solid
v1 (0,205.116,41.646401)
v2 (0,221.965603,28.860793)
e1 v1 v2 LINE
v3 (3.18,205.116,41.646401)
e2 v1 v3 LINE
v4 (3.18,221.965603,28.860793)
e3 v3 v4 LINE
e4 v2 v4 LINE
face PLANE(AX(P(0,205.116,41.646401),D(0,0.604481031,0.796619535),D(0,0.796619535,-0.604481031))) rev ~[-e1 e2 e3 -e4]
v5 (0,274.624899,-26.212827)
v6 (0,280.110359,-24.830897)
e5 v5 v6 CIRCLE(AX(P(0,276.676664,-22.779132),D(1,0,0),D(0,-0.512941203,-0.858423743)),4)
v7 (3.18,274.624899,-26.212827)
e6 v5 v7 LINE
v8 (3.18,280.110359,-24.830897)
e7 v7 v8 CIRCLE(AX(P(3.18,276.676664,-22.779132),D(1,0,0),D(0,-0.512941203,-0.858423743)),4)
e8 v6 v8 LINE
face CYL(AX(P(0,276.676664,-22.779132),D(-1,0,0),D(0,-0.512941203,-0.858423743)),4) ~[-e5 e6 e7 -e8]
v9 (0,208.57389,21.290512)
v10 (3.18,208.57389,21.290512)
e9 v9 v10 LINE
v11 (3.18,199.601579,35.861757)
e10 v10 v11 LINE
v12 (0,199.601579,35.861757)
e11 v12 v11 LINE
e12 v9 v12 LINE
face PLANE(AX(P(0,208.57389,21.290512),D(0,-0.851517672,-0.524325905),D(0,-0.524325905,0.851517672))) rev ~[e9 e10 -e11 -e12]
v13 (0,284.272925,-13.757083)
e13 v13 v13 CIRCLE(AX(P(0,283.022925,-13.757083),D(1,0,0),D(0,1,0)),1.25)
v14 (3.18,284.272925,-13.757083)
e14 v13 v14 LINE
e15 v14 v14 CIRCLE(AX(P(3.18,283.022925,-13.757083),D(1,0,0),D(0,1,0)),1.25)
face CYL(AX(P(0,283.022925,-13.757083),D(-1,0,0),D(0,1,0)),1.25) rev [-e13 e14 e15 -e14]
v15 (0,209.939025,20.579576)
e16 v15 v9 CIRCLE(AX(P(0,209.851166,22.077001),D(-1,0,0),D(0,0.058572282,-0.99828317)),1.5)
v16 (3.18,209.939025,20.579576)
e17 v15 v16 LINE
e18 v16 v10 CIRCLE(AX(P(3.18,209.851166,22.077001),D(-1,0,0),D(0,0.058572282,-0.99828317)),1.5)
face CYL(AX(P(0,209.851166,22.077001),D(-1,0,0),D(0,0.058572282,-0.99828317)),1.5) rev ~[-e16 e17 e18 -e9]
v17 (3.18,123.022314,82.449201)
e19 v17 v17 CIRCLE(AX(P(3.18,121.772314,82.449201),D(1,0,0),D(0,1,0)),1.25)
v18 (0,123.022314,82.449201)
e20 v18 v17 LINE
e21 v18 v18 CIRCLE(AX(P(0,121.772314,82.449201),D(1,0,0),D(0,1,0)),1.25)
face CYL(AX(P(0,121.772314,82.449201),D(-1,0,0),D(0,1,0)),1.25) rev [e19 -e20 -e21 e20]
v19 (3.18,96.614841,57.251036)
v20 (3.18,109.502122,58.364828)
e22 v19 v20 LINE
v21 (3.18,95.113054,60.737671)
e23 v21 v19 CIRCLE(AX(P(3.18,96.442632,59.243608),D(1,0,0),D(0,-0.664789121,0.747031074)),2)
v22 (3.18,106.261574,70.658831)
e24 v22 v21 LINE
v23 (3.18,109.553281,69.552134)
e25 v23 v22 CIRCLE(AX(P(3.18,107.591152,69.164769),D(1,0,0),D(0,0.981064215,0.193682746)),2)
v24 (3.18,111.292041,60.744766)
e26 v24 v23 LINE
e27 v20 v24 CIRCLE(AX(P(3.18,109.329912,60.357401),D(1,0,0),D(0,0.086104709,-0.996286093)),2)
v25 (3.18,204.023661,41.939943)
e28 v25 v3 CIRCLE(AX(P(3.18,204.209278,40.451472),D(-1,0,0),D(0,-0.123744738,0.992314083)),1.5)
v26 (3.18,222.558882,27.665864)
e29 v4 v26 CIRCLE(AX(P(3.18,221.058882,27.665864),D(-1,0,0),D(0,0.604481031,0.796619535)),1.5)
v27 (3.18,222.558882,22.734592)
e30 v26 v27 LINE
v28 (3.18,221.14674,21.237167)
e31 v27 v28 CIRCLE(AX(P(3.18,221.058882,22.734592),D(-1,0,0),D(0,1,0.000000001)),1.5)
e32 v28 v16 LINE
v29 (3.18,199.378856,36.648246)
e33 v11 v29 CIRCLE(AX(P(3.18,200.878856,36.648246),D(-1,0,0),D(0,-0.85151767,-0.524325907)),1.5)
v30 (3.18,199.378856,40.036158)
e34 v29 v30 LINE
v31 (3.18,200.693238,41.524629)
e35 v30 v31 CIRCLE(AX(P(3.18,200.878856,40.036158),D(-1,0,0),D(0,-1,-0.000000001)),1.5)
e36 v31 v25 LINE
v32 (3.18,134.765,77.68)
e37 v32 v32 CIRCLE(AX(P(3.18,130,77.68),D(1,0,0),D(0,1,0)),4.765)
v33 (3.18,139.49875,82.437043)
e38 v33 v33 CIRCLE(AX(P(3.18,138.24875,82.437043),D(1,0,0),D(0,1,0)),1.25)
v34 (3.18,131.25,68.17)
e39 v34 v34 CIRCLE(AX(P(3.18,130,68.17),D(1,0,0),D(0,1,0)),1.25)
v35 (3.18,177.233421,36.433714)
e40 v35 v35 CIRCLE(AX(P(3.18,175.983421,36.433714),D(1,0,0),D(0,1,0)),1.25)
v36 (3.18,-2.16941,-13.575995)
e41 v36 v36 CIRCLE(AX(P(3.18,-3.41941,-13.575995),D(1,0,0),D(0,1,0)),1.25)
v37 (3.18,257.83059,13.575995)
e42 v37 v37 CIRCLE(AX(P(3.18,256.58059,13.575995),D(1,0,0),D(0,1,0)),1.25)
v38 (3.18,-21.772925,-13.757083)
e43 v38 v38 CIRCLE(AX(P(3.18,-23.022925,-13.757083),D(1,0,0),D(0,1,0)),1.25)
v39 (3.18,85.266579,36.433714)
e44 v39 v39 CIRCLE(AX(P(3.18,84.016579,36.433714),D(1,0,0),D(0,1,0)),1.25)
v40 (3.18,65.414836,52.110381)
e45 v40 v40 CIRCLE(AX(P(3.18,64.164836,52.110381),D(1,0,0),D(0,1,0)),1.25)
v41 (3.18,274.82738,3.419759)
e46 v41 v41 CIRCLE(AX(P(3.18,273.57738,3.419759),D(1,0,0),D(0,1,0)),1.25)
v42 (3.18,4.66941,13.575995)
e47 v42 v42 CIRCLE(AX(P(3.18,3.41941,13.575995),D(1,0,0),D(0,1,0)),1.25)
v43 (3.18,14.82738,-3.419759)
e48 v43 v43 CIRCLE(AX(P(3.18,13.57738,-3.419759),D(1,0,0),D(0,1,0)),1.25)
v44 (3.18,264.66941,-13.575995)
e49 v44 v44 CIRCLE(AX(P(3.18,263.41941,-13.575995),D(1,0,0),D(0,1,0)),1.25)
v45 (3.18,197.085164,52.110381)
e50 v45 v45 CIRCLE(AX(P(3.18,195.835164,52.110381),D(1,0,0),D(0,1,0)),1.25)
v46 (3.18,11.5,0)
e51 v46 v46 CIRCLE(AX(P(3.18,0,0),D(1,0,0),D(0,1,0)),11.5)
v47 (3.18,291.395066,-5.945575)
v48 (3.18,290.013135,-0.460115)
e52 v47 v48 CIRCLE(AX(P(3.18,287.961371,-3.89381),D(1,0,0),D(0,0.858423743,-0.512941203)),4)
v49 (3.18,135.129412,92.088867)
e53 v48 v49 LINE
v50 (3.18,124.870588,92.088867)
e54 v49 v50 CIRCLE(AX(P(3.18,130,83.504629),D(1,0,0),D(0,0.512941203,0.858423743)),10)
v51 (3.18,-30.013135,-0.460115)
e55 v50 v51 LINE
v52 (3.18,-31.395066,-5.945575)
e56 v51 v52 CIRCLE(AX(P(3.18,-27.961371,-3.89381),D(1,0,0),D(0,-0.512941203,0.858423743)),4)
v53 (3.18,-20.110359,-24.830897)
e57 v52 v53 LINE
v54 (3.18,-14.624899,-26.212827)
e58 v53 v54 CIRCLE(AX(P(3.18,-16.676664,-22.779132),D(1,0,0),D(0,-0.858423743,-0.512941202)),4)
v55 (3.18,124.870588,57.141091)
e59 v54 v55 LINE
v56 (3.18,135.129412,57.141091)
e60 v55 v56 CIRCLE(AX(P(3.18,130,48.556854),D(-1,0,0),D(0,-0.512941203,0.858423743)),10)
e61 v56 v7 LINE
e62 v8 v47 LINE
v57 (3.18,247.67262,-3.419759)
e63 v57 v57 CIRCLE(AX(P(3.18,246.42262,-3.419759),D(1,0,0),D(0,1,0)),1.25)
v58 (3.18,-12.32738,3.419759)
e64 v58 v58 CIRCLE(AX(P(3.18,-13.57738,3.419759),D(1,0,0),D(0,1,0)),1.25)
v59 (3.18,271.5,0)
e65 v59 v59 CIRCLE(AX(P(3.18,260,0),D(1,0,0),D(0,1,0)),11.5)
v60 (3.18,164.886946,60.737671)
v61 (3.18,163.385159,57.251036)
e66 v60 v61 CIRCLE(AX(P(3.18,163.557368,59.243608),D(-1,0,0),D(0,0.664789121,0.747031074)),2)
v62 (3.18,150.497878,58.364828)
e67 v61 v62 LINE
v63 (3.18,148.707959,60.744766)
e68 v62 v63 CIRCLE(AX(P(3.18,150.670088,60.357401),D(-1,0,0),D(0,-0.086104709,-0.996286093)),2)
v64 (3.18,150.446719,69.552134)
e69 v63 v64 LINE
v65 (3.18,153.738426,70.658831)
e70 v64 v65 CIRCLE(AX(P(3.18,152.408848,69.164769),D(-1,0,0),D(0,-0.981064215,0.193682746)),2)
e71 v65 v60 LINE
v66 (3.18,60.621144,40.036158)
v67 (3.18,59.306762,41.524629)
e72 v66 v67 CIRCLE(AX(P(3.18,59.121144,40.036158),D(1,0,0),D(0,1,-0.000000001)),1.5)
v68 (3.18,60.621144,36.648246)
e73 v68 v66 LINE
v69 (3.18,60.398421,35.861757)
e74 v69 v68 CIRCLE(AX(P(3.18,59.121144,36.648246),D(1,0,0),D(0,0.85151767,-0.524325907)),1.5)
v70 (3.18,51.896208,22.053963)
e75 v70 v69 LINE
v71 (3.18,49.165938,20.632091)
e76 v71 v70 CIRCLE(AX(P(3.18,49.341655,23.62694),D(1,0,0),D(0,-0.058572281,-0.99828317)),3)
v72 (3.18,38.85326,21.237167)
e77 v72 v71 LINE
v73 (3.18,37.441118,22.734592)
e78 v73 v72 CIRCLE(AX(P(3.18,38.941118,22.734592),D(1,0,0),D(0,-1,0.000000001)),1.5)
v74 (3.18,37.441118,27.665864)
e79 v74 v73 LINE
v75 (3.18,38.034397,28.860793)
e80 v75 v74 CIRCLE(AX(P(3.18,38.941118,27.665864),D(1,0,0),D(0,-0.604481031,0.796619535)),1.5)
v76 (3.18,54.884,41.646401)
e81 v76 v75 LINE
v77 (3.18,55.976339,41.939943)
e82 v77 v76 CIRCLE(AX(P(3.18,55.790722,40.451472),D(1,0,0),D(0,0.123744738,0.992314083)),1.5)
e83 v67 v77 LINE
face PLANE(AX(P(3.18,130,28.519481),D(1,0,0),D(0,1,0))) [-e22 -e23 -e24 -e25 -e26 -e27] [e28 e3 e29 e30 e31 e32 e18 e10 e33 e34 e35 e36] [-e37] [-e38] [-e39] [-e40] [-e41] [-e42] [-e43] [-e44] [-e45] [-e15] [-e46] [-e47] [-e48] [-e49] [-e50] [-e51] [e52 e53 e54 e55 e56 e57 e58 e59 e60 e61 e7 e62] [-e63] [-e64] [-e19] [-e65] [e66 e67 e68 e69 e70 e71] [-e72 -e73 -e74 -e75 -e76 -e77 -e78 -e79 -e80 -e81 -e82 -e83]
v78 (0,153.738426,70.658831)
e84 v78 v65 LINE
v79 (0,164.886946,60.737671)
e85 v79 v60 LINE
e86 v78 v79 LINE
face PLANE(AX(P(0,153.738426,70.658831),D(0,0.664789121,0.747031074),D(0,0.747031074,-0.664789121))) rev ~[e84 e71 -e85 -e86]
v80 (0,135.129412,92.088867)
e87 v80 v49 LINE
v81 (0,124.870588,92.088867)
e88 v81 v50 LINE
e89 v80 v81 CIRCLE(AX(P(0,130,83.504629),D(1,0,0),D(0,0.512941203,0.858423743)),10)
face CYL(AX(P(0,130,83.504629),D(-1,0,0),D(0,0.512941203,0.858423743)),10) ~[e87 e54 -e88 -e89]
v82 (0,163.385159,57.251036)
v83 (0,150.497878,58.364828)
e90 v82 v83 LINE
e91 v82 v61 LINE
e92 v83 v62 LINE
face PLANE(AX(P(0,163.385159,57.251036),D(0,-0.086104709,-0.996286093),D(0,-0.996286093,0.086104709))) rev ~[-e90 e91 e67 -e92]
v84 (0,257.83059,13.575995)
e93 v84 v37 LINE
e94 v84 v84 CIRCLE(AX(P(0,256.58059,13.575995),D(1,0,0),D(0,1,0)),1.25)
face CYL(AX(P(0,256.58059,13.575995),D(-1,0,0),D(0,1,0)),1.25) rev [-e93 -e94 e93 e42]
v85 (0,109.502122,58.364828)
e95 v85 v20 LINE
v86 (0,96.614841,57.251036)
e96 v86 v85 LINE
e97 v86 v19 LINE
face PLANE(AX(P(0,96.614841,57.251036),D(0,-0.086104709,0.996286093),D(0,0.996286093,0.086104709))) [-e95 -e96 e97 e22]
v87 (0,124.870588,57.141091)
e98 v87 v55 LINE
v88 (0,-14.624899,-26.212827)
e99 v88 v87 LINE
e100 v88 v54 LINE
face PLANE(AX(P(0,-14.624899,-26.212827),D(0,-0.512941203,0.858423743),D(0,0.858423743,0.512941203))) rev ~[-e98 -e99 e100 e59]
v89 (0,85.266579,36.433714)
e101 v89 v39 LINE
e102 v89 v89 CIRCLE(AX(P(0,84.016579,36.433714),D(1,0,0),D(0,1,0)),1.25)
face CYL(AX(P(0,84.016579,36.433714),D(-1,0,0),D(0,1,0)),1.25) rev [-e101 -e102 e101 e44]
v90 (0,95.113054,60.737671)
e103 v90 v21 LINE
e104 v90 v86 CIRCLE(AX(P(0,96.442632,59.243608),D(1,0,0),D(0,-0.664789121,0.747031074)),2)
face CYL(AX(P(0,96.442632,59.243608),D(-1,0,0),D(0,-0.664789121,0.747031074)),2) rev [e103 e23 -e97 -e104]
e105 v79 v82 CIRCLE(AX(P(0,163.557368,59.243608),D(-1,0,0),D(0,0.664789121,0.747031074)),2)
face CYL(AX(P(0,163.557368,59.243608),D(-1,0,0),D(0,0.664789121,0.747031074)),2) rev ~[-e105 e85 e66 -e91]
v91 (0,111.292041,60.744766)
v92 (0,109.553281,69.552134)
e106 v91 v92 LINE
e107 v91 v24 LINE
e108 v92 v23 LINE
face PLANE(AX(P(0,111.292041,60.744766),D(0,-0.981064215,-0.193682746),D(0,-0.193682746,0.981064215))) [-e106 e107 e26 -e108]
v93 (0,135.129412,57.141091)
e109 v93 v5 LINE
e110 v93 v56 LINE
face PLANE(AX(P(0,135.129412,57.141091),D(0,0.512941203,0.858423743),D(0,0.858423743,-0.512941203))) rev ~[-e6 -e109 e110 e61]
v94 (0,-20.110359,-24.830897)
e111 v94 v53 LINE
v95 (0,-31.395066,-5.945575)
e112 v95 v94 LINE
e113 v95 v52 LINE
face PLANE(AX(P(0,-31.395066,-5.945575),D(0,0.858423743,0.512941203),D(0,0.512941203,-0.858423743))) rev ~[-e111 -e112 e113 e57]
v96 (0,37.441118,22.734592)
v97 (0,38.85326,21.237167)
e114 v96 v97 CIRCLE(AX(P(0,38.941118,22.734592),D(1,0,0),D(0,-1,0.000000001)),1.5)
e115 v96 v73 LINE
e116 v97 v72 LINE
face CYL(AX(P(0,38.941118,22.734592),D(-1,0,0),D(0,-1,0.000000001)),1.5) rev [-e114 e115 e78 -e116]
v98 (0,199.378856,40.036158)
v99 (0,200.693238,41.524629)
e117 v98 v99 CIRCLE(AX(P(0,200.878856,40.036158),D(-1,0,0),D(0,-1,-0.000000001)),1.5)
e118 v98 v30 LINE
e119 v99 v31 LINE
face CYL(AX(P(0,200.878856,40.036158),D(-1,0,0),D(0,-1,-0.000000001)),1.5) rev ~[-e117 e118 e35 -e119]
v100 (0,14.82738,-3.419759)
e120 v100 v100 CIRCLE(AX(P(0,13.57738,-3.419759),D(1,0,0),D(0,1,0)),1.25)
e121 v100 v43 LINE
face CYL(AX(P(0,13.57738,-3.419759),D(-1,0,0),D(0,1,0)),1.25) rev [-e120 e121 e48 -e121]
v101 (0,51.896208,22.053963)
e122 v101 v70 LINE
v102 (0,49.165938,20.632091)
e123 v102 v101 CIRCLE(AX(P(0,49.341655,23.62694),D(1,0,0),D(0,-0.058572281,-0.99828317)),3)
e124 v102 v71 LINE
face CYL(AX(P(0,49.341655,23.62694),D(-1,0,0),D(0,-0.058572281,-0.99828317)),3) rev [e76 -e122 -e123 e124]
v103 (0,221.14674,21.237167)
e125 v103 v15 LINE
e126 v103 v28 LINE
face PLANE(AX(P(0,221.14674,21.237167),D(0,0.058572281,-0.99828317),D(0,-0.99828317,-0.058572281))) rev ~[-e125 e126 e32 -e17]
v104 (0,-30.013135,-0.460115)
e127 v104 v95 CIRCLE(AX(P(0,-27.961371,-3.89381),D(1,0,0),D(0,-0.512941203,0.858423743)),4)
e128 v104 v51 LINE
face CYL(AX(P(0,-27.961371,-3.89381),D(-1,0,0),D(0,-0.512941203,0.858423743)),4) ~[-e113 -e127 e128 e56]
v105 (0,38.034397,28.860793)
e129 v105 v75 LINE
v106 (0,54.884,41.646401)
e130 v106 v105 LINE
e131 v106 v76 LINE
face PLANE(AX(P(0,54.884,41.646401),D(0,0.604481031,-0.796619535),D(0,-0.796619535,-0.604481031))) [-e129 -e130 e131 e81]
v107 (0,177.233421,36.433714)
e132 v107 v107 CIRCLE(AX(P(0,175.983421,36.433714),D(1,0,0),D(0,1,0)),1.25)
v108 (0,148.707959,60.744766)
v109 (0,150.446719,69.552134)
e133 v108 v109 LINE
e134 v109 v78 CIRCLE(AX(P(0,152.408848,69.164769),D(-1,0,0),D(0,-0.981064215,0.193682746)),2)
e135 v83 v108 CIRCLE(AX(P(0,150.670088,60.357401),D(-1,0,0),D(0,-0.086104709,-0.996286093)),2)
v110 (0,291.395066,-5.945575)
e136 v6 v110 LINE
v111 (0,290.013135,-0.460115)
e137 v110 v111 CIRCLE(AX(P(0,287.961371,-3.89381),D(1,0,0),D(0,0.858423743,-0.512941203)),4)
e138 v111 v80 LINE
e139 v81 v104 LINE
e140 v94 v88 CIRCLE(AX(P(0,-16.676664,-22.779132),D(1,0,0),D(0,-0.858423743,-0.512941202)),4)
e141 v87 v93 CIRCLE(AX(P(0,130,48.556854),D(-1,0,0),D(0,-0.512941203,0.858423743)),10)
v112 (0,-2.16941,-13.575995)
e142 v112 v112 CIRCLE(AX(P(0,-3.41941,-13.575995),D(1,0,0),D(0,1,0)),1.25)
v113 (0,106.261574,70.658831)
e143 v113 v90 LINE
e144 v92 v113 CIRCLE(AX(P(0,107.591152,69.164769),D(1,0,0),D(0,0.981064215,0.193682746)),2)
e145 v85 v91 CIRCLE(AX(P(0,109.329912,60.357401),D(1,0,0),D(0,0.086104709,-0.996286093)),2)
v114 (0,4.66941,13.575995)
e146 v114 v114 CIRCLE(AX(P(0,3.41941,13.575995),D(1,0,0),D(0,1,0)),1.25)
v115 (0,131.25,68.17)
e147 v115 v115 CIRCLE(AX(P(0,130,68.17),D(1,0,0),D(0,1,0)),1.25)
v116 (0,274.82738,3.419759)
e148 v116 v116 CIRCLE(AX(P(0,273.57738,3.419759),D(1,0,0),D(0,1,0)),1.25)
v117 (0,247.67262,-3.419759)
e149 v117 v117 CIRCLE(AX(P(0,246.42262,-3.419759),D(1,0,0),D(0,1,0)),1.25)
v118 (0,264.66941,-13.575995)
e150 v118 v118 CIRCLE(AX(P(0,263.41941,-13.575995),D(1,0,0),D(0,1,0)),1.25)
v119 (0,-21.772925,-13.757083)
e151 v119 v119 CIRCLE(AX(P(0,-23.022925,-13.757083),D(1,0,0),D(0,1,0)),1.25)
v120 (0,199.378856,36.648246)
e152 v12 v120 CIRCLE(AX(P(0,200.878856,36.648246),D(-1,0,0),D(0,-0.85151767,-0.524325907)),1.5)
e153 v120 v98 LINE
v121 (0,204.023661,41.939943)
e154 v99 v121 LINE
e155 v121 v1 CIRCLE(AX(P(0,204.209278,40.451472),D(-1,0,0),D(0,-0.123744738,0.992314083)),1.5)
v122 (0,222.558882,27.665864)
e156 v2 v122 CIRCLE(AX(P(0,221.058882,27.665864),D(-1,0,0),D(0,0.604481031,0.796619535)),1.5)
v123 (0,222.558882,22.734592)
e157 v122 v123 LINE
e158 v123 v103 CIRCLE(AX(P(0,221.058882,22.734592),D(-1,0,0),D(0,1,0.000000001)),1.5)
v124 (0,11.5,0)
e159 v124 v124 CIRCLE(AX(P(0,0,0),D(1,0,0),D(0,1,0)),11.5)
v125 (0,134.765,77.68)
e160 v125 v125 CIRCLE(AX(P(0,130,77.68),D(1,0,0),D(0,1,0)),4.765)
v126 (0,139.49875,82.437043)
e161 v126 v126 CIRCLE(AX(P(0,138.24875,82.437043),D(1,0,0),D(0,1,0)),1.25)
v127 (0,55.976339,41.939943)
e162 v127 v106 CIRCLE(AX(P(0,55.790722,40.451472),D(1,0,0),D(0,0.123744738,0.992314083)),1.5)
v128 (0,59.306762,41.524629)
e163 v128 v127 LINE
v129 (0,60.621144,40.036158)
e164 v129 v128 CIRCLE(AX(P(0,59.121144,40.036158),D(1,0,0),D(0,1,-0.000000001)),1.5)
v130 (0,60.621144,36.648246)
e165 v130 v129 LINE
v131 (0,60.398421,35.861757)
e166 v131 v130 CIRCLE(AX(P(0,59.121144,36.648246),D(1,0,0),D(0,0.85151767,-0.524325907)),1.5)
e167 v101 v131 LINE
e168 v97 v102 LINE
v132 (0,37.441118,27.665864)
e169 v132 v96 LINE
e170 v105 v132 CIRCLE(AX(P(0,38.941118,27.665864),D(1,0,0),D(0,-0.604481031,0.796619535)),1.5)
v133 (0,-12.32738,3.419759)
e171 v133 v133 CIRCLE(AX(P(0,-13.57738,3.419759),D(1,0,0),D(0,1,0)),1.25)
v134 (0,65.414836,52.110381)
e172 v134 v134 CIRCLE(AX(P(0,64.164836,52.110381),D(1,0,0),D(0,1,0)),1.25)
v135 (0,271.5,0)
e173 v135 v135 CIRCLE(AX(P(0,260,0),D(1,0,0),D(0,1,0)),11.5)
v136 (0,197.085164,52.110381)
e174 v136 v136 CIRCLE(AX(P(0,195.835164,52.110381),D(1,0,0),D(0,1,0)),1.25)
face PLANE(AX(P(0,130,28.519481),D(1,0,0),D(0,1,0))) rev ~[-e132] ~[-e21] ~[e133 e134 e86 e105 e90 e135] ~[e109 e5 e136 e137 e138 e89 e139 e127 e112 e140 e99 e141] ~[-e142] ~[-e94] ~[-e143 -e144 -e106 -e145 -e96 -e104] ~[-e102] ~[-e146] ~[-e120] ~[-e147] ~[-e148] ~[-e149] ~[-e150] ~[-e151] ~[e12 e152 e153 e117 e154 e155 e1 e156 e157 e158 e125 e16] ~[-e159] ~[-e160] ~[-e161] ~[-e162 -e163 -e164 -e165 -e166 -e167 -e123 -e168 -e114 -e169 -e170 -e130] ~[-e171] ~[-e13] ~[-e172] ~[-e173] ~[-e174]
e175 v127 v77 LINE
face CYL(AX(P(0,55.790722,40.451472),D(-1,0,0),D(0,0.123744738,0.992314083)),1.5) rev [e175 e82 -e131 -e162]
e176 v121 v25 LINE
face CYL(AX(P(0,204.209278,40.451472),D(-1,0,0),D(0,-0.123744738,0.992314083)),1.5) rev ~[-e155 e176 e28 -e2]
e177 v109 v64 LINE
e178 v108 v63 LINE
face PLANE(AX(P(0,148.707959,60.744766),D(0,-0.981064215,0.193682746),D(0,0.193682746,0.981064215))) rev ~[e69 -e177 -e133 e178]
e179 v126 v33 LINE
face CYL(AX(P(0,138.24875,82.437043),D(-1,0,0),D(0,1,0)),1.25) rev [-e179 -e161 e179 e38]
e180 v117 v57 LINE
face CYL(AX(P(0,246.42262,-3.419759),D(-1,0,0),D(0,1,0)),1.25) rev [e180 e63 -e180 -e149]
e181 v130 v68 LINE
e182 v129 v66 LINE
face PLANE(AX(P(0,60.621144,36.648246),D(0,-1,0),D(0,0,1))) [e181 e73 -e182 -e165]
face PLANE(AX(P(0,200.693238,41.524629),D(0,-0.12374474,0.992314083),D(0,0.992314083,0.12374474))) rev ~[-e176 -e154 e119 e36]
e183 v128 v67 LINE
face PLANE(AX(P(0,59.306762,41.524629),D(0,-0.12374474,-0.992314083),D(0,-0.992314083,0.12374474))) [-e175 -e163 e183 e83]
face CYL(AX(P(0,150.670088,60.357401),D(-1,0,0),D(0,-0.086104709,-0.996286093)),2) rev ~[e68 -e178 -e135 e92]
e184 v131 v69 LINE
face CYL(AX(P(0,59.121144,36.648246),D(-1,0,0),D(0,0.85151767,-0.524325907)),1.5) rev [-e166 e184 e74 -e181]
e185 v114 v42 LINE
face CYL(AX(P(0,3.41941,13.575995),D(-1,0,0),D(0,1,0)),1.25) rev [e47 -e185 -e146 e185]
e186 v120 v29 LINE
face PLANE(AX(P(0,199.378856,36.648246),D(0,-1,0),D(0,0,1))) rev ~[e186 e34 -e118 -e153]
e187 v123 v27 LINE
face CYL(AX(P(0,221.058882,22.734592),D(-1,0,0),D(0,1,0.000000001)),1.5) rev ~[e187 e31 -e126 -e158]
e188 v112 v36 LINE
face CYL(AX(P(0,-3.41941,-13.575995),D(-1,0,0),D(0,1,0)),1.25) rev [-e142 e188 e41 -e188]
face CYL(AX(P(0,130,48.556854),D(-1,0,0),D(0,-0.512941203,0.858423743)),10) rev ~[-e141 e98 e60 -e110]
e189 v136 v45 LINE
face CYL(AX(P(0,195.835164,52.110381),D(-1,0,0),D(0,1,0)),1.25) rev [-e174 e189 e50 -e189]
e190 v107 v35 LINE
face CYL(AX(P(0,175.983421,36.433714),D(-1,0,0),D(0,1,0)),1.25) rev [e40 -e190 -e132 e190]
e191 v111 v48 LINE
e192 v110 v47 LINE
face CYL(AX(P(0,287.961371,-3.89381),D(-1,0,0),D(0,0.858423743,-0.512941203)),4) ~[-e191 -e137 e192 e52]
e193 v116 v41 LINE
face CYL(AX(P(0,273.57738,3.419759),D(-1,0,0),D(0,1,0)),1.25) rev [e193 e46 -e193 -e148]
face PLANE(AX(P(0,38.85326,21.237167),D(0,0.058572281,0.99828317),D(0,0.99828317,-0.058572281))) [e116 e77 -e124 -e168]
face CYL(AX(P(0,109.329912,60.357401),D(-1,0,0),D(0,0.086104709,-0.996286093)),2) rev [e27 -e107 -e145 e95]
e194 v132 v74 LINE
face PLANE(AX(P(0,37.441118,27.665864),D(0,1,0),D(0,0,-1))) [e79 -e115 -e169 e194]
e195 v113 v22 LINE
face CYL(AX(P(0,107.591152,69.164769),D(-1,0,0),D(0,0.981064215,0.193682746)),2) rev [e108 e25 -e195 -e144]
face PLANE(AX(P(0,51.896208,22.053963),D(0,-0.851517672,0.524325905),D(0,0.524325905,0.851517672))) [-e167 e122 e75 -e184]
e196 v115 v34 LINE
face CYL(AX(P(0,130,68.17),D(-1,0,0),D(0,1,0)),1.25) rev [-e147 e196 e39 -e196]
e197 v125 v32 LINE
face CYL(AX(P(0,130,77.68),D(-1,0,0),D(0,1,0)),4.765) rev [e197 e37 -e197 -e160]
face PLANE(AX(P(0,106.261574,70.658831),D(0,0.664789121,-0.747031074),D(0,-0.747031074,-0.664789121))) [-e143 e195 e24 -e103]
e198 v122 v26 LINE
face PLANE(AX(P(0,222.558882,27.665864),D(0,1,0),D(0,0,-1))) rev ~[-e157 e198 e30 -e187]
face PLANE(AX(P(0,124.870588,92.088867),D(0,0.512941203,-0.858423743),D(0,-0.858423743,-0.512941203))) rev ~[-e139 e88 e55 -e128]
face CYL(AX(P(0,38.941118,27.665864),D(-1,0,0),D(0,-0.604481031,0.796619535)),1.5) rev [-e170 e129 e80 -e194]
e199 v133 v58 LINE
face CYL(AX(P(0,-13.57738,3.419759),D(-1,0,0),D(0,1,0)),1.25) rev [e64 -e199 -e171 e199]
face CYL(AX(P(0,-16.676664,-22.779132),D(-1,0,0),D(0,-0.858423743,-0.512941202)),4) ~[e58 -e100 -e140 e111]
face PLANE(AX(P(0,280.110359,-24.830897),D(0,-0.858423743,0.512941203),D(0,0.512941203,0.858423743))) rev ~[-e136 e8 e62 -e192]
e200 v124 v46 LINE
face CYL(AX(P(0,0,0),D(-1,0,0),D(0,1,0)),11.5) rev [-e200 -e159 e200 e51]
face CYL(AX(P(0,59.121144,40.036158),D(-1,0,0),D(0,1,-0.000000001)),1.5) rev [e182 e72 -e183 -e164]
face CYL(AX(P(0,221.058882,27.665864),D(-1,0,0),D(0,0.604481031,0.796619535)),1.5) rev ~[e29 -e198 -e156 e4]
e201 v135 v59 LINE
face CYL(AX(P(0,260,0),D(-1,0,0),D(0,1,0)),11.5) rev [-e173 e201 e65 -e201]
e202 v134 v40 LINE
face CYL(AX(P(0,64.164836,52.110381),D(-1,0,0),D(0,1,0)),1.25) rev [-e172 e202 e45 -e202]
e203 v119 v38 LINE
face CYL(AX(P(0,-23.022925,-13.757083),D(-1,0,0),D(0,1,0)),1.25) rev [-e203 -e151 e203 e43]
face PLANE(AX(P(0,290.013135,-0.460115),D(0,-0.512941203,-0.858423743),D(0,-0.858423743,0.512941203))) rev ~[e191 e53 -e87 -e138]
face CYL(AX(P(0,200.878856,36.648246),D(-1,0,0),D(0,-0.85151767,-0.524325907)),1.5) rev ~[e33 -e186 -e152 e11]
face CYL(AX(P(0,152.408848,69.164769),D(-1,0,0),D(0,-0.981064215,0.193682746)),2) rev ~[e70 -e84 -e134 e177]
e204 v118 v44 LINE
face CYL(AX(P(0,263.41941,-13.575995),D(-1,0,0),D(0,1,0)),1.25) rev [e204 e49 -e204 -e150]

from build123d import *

# Parameters (mm, degrees)
EXTRUDE_BASE_DEPTH         = 3.18
SKETCH4_R                  = 11.5
CUT_MOTOR_HOLES_DEPTH      = 3.18
SKETCH5_R                  = 1.25
MOTOR_SUPPORT_HOLES_DEPTH  = 3.18
SKETCH6_R                  = 1.25
SKETCH6_R_2                = 4.765
SUPPORT_HOLES_DEPTH        = 3.18
CUT_LIGHTENING_HOLES_DEPTH = 3.18


with BuildPart() as part:
    # bogie base → extrude-base (new body)
    with BuildSketch(Plane.YZ):
        with BuildLine():
            Line((-31.39506552, -5.945574909), (-20.11035906, -24.830897255))
            ThreePointArc((-20.11035906, -24.830897255), (-17.653836276, -26.657938255), (-14.624899277, -26.212827416))
            Line((-14.624899277, -26.212827416), (124.870587973, 57.141091427))
            ThreePointArc((124.870587973, 57.141091427), (130, 58.556853997), (135.129412027, 57.141091427))
            Line((135.129412027, 57.141091427), (274.624899277, -26.212827416))
            ThreePointArc((274.624899277, -26.212827416), (277.653836276, -26.657938255), (280.11035906, -24.830897255))
            Line((280.11035906, -24.830897255), (291.39506552, -5.945574909))
            ThreePointArc((291.39506552, -5.945574909), (291.840176358, -2.91663791), (290.013135359, -0.460115126))
            Line((290.013135359, -0.460115126), (135.129412027, 92.088866631))
            ThreePointArc((135.129412027, 92.088866631), (130, 93.504629201), (124.870587973, 92.088866631))
            Line((124.870587973, 92.088866631), (-30.013135359, -0.460115126))
            ThreePointArc((-30.013135359, -0.460115126), (-31.840176358, -2.91663791), (-31.39506552, -5.945574909))
        make_face()
    extrude(amount=EXTRUDE_BASE_DEPTH)

    # Sketch4 → Cut-motor holes (cut)
    with BuildSketch(Plane.YZ):
        with Locations((260, 0)):
            Circle(SKETCH4_R)
        Circle(SKETCH4_R)
    extrude(amount=CUT_MOTOR_HOLES_DEPTH, mode=Mode.SUBTRACT)

    # Sketch5 → motor support holes (cut)
    with BuildSketch(Plane.YZ):
        with Locations((3.419410151, 13.575994778)):
            Circle(SKETCH5_R)
        with Locations((-3.41941001, -13.575994814)):
            Circle(SKETCH5_R)
        with Locations((13.577380102, -3.419759)):
            Circle(SKETCH5_R)
        with Locations((-13.57737996, 3.419758964)):
            Circle(SKETCH5_R)
        with Locations((273.57737996, 3.419758964)):
            Circle(SKETCH5_R)
        with Locations((246.422619898, -3.419759)):
            Circle(SKETCH5_R)
        with Locations((263.41941001, -13.575994814)):
            Circle(SKETCH5_R)
        with Locations((256.580589849, 13.575994778)):
            Circle(SKETCH5_R)
    extrude(amount=MOTOR_SUPPORT_HOLES_DEPTH, mode=Mode.SUBTRACT)

    # Sketch6 → support holes (cut)
    with BuildSketch(Plane.YZ):
        with Locations((64.164835578, 52.110380567)):
            Circle(SKETCH6_R)
        with Locations((84.016579298, 36.433714107)):
            Circle(SKETCH6_R)
        with Locations((130, 77.68)):
            Circle(SKETCH6_R_2)
        with Locations((130, 68.17)):
            Circle(SKETCH6_R)
        with Locations((121.77231361, 82.449200841)):
            Circle(SKETCH6_R)
        with Locations((138.248750332, 82.43704307)):
            Circle(SKETCH6_R)
        with Locations((175.983420702, 36.433714107)):
            Circle(SKETCH6_R)
        with Locations((195.835164422, 52.110380567)):
            Circle(SKETCH6_R)
        with Locations((-23.022924787, -13.757083057)):
            Circle(SKETCH6_R)
        with Locations((283.022924787, -13.757083057)):
            Circle(SKETCH6_R)
    extrude(amount=SUPPORT_HOLES_DEPTH, mode=Mode.SUBTRACT)

    # Sketch7 → Cut-lightening holes (cut)
    with BuildSketch(Plane.YZ):
        with BuildLine():
            Line((54.884000108, 41.646401467), (38.03439682, 28.860792879))
            ThreePointArc((38.03439682, 28.860792879), (37.597600164, 28.332915929), (37.441118366, 27.665863577))
            Line((37.441118366, 27.665863577), (37.441118366, 22.734591544))
            ThreePointArc((37.441118366, 22.734591544), (37.849837551, 21.705462697), (38.853259944, 21.237166789))
            Line((38.853259944, 21.237166789), (49.165938422, 20.63209087))
            ThreePointArc((49.165938422, 20.63209087), (50.727348318, 20.966140733), (51.896208282, 22.053962665))
            Line((51.896208282, 22.053962665), (60.398420976, 35.861757183))
            ThreePointArc((60.398420976, 35.861757183), (60.564389902, 36.239537563), (60.621144468, 36.64824604))
            Line((60.621144468, 36.64824604), (60.621144468, 40.036157787))
            ThreePointArc((60.621144468, 40.036157787), (60.245516663, 41.02902594), (59.306761578, 41.524628912))
            Line((59.306761578, 41.524628912), (55.976338764, 41.939943289))
            ThreePointArc((55.976338764, 41.939943289), (55.401440776, 41.900078528), (54.884000108, 41.646401467))
        make_face()
        with BuildLine():
            Line((200.693238422, 41.524628912), (204.023661236, 41.939943289))
            ThreePointArc((204.023661236, 41.939943289), (204.598559224, 41.900078528), (205.115999892, 41.646401467))
            Line((205.115999892, 41.646401467), (221.96560318, 28.860792879))
            ThreePointArc((221.96560318, 28.860792879), (222.402399836, 28.332915929), (222.558881634, 27.665863577))
            Line((222.558881634, 27.665863577), (222.558881634, 22.734591544))
            ThreePointArc((222.558881634, 22.734591544), (222.150162449, 21.705462697), (221.146740056, 21.237166789))
            Line((221.146740056, 21.237166789), (209.939024731, 20.579576362))
            ThreePointArc((209.939024731, 20.579576362), (209.158319783, 20.746601293), (208.573889801, 21.290512259))
            Line((208.573889801, 21.290512259), (199.601579024, 35.861757183))
            ThreePointArc((199.601579024, 35.861757183), (199.435610098, 36.239537563), (199.378855532, 36.64824604))
            Line((199.378855532, 36.64824604), (199.378855532, 40.036157787))
            ThreePointArc((199.378855532, 40.036157787), (199.754483337, 41.02902594), (200.693238422, 41.524628912))
        make_face()
        with BuildLine():
            Line((106.261574004, 70.658830934), (95.113053624, 60.737670596))
            ThreePointArc((95.113053624, 60.737670596), (94.605778471, 58.452426038), (96.614841284, 57.251036263))
            Line((96.614841284, 57.251036263), (109.502121723, 58.364828314))
            ThreePointArc((109.502121723, 58.364828314), (110.928310049, 59.155267125), (111.292040735, 60.744765992))
            Line((111.292040735, 60.744765992), (109.553280676, 69.552134278))
            ThreePointArc((109.553280676, 69.552134278), (108.22850953, 71.060494424), (106.261574004, 70.658830934))
        make_face()
        with BuildLine():
            Line((148.707959265, 60.744765992), (150.446719324, 69.552134278))
            ThreePointArc((150.446719324, 69.552134278), (151.77149047, 71.060494424), (153.738425996, 70.658830934))
            Line((153.738425996, 70.658830934), (164.886946376, 60.737670596))
            ThreePointArc((164.886946376, 60.737670596), (165.394221529, 58.452426038), (163.385158716, 57.251036263))
            Line((163.385158716, 57.251036263), (150.497878277, 58.364828314))
            ThreePointArc((150.497878277, 58.364828314), (149.071689951, 59.155267125), (148.707959265, 60.744765992))
        make_face()
    extrude(amount=CUT_LIGHTENING_HOLES_DEPTH, mode=Mode.SUBTRACT)


solid = part.part
